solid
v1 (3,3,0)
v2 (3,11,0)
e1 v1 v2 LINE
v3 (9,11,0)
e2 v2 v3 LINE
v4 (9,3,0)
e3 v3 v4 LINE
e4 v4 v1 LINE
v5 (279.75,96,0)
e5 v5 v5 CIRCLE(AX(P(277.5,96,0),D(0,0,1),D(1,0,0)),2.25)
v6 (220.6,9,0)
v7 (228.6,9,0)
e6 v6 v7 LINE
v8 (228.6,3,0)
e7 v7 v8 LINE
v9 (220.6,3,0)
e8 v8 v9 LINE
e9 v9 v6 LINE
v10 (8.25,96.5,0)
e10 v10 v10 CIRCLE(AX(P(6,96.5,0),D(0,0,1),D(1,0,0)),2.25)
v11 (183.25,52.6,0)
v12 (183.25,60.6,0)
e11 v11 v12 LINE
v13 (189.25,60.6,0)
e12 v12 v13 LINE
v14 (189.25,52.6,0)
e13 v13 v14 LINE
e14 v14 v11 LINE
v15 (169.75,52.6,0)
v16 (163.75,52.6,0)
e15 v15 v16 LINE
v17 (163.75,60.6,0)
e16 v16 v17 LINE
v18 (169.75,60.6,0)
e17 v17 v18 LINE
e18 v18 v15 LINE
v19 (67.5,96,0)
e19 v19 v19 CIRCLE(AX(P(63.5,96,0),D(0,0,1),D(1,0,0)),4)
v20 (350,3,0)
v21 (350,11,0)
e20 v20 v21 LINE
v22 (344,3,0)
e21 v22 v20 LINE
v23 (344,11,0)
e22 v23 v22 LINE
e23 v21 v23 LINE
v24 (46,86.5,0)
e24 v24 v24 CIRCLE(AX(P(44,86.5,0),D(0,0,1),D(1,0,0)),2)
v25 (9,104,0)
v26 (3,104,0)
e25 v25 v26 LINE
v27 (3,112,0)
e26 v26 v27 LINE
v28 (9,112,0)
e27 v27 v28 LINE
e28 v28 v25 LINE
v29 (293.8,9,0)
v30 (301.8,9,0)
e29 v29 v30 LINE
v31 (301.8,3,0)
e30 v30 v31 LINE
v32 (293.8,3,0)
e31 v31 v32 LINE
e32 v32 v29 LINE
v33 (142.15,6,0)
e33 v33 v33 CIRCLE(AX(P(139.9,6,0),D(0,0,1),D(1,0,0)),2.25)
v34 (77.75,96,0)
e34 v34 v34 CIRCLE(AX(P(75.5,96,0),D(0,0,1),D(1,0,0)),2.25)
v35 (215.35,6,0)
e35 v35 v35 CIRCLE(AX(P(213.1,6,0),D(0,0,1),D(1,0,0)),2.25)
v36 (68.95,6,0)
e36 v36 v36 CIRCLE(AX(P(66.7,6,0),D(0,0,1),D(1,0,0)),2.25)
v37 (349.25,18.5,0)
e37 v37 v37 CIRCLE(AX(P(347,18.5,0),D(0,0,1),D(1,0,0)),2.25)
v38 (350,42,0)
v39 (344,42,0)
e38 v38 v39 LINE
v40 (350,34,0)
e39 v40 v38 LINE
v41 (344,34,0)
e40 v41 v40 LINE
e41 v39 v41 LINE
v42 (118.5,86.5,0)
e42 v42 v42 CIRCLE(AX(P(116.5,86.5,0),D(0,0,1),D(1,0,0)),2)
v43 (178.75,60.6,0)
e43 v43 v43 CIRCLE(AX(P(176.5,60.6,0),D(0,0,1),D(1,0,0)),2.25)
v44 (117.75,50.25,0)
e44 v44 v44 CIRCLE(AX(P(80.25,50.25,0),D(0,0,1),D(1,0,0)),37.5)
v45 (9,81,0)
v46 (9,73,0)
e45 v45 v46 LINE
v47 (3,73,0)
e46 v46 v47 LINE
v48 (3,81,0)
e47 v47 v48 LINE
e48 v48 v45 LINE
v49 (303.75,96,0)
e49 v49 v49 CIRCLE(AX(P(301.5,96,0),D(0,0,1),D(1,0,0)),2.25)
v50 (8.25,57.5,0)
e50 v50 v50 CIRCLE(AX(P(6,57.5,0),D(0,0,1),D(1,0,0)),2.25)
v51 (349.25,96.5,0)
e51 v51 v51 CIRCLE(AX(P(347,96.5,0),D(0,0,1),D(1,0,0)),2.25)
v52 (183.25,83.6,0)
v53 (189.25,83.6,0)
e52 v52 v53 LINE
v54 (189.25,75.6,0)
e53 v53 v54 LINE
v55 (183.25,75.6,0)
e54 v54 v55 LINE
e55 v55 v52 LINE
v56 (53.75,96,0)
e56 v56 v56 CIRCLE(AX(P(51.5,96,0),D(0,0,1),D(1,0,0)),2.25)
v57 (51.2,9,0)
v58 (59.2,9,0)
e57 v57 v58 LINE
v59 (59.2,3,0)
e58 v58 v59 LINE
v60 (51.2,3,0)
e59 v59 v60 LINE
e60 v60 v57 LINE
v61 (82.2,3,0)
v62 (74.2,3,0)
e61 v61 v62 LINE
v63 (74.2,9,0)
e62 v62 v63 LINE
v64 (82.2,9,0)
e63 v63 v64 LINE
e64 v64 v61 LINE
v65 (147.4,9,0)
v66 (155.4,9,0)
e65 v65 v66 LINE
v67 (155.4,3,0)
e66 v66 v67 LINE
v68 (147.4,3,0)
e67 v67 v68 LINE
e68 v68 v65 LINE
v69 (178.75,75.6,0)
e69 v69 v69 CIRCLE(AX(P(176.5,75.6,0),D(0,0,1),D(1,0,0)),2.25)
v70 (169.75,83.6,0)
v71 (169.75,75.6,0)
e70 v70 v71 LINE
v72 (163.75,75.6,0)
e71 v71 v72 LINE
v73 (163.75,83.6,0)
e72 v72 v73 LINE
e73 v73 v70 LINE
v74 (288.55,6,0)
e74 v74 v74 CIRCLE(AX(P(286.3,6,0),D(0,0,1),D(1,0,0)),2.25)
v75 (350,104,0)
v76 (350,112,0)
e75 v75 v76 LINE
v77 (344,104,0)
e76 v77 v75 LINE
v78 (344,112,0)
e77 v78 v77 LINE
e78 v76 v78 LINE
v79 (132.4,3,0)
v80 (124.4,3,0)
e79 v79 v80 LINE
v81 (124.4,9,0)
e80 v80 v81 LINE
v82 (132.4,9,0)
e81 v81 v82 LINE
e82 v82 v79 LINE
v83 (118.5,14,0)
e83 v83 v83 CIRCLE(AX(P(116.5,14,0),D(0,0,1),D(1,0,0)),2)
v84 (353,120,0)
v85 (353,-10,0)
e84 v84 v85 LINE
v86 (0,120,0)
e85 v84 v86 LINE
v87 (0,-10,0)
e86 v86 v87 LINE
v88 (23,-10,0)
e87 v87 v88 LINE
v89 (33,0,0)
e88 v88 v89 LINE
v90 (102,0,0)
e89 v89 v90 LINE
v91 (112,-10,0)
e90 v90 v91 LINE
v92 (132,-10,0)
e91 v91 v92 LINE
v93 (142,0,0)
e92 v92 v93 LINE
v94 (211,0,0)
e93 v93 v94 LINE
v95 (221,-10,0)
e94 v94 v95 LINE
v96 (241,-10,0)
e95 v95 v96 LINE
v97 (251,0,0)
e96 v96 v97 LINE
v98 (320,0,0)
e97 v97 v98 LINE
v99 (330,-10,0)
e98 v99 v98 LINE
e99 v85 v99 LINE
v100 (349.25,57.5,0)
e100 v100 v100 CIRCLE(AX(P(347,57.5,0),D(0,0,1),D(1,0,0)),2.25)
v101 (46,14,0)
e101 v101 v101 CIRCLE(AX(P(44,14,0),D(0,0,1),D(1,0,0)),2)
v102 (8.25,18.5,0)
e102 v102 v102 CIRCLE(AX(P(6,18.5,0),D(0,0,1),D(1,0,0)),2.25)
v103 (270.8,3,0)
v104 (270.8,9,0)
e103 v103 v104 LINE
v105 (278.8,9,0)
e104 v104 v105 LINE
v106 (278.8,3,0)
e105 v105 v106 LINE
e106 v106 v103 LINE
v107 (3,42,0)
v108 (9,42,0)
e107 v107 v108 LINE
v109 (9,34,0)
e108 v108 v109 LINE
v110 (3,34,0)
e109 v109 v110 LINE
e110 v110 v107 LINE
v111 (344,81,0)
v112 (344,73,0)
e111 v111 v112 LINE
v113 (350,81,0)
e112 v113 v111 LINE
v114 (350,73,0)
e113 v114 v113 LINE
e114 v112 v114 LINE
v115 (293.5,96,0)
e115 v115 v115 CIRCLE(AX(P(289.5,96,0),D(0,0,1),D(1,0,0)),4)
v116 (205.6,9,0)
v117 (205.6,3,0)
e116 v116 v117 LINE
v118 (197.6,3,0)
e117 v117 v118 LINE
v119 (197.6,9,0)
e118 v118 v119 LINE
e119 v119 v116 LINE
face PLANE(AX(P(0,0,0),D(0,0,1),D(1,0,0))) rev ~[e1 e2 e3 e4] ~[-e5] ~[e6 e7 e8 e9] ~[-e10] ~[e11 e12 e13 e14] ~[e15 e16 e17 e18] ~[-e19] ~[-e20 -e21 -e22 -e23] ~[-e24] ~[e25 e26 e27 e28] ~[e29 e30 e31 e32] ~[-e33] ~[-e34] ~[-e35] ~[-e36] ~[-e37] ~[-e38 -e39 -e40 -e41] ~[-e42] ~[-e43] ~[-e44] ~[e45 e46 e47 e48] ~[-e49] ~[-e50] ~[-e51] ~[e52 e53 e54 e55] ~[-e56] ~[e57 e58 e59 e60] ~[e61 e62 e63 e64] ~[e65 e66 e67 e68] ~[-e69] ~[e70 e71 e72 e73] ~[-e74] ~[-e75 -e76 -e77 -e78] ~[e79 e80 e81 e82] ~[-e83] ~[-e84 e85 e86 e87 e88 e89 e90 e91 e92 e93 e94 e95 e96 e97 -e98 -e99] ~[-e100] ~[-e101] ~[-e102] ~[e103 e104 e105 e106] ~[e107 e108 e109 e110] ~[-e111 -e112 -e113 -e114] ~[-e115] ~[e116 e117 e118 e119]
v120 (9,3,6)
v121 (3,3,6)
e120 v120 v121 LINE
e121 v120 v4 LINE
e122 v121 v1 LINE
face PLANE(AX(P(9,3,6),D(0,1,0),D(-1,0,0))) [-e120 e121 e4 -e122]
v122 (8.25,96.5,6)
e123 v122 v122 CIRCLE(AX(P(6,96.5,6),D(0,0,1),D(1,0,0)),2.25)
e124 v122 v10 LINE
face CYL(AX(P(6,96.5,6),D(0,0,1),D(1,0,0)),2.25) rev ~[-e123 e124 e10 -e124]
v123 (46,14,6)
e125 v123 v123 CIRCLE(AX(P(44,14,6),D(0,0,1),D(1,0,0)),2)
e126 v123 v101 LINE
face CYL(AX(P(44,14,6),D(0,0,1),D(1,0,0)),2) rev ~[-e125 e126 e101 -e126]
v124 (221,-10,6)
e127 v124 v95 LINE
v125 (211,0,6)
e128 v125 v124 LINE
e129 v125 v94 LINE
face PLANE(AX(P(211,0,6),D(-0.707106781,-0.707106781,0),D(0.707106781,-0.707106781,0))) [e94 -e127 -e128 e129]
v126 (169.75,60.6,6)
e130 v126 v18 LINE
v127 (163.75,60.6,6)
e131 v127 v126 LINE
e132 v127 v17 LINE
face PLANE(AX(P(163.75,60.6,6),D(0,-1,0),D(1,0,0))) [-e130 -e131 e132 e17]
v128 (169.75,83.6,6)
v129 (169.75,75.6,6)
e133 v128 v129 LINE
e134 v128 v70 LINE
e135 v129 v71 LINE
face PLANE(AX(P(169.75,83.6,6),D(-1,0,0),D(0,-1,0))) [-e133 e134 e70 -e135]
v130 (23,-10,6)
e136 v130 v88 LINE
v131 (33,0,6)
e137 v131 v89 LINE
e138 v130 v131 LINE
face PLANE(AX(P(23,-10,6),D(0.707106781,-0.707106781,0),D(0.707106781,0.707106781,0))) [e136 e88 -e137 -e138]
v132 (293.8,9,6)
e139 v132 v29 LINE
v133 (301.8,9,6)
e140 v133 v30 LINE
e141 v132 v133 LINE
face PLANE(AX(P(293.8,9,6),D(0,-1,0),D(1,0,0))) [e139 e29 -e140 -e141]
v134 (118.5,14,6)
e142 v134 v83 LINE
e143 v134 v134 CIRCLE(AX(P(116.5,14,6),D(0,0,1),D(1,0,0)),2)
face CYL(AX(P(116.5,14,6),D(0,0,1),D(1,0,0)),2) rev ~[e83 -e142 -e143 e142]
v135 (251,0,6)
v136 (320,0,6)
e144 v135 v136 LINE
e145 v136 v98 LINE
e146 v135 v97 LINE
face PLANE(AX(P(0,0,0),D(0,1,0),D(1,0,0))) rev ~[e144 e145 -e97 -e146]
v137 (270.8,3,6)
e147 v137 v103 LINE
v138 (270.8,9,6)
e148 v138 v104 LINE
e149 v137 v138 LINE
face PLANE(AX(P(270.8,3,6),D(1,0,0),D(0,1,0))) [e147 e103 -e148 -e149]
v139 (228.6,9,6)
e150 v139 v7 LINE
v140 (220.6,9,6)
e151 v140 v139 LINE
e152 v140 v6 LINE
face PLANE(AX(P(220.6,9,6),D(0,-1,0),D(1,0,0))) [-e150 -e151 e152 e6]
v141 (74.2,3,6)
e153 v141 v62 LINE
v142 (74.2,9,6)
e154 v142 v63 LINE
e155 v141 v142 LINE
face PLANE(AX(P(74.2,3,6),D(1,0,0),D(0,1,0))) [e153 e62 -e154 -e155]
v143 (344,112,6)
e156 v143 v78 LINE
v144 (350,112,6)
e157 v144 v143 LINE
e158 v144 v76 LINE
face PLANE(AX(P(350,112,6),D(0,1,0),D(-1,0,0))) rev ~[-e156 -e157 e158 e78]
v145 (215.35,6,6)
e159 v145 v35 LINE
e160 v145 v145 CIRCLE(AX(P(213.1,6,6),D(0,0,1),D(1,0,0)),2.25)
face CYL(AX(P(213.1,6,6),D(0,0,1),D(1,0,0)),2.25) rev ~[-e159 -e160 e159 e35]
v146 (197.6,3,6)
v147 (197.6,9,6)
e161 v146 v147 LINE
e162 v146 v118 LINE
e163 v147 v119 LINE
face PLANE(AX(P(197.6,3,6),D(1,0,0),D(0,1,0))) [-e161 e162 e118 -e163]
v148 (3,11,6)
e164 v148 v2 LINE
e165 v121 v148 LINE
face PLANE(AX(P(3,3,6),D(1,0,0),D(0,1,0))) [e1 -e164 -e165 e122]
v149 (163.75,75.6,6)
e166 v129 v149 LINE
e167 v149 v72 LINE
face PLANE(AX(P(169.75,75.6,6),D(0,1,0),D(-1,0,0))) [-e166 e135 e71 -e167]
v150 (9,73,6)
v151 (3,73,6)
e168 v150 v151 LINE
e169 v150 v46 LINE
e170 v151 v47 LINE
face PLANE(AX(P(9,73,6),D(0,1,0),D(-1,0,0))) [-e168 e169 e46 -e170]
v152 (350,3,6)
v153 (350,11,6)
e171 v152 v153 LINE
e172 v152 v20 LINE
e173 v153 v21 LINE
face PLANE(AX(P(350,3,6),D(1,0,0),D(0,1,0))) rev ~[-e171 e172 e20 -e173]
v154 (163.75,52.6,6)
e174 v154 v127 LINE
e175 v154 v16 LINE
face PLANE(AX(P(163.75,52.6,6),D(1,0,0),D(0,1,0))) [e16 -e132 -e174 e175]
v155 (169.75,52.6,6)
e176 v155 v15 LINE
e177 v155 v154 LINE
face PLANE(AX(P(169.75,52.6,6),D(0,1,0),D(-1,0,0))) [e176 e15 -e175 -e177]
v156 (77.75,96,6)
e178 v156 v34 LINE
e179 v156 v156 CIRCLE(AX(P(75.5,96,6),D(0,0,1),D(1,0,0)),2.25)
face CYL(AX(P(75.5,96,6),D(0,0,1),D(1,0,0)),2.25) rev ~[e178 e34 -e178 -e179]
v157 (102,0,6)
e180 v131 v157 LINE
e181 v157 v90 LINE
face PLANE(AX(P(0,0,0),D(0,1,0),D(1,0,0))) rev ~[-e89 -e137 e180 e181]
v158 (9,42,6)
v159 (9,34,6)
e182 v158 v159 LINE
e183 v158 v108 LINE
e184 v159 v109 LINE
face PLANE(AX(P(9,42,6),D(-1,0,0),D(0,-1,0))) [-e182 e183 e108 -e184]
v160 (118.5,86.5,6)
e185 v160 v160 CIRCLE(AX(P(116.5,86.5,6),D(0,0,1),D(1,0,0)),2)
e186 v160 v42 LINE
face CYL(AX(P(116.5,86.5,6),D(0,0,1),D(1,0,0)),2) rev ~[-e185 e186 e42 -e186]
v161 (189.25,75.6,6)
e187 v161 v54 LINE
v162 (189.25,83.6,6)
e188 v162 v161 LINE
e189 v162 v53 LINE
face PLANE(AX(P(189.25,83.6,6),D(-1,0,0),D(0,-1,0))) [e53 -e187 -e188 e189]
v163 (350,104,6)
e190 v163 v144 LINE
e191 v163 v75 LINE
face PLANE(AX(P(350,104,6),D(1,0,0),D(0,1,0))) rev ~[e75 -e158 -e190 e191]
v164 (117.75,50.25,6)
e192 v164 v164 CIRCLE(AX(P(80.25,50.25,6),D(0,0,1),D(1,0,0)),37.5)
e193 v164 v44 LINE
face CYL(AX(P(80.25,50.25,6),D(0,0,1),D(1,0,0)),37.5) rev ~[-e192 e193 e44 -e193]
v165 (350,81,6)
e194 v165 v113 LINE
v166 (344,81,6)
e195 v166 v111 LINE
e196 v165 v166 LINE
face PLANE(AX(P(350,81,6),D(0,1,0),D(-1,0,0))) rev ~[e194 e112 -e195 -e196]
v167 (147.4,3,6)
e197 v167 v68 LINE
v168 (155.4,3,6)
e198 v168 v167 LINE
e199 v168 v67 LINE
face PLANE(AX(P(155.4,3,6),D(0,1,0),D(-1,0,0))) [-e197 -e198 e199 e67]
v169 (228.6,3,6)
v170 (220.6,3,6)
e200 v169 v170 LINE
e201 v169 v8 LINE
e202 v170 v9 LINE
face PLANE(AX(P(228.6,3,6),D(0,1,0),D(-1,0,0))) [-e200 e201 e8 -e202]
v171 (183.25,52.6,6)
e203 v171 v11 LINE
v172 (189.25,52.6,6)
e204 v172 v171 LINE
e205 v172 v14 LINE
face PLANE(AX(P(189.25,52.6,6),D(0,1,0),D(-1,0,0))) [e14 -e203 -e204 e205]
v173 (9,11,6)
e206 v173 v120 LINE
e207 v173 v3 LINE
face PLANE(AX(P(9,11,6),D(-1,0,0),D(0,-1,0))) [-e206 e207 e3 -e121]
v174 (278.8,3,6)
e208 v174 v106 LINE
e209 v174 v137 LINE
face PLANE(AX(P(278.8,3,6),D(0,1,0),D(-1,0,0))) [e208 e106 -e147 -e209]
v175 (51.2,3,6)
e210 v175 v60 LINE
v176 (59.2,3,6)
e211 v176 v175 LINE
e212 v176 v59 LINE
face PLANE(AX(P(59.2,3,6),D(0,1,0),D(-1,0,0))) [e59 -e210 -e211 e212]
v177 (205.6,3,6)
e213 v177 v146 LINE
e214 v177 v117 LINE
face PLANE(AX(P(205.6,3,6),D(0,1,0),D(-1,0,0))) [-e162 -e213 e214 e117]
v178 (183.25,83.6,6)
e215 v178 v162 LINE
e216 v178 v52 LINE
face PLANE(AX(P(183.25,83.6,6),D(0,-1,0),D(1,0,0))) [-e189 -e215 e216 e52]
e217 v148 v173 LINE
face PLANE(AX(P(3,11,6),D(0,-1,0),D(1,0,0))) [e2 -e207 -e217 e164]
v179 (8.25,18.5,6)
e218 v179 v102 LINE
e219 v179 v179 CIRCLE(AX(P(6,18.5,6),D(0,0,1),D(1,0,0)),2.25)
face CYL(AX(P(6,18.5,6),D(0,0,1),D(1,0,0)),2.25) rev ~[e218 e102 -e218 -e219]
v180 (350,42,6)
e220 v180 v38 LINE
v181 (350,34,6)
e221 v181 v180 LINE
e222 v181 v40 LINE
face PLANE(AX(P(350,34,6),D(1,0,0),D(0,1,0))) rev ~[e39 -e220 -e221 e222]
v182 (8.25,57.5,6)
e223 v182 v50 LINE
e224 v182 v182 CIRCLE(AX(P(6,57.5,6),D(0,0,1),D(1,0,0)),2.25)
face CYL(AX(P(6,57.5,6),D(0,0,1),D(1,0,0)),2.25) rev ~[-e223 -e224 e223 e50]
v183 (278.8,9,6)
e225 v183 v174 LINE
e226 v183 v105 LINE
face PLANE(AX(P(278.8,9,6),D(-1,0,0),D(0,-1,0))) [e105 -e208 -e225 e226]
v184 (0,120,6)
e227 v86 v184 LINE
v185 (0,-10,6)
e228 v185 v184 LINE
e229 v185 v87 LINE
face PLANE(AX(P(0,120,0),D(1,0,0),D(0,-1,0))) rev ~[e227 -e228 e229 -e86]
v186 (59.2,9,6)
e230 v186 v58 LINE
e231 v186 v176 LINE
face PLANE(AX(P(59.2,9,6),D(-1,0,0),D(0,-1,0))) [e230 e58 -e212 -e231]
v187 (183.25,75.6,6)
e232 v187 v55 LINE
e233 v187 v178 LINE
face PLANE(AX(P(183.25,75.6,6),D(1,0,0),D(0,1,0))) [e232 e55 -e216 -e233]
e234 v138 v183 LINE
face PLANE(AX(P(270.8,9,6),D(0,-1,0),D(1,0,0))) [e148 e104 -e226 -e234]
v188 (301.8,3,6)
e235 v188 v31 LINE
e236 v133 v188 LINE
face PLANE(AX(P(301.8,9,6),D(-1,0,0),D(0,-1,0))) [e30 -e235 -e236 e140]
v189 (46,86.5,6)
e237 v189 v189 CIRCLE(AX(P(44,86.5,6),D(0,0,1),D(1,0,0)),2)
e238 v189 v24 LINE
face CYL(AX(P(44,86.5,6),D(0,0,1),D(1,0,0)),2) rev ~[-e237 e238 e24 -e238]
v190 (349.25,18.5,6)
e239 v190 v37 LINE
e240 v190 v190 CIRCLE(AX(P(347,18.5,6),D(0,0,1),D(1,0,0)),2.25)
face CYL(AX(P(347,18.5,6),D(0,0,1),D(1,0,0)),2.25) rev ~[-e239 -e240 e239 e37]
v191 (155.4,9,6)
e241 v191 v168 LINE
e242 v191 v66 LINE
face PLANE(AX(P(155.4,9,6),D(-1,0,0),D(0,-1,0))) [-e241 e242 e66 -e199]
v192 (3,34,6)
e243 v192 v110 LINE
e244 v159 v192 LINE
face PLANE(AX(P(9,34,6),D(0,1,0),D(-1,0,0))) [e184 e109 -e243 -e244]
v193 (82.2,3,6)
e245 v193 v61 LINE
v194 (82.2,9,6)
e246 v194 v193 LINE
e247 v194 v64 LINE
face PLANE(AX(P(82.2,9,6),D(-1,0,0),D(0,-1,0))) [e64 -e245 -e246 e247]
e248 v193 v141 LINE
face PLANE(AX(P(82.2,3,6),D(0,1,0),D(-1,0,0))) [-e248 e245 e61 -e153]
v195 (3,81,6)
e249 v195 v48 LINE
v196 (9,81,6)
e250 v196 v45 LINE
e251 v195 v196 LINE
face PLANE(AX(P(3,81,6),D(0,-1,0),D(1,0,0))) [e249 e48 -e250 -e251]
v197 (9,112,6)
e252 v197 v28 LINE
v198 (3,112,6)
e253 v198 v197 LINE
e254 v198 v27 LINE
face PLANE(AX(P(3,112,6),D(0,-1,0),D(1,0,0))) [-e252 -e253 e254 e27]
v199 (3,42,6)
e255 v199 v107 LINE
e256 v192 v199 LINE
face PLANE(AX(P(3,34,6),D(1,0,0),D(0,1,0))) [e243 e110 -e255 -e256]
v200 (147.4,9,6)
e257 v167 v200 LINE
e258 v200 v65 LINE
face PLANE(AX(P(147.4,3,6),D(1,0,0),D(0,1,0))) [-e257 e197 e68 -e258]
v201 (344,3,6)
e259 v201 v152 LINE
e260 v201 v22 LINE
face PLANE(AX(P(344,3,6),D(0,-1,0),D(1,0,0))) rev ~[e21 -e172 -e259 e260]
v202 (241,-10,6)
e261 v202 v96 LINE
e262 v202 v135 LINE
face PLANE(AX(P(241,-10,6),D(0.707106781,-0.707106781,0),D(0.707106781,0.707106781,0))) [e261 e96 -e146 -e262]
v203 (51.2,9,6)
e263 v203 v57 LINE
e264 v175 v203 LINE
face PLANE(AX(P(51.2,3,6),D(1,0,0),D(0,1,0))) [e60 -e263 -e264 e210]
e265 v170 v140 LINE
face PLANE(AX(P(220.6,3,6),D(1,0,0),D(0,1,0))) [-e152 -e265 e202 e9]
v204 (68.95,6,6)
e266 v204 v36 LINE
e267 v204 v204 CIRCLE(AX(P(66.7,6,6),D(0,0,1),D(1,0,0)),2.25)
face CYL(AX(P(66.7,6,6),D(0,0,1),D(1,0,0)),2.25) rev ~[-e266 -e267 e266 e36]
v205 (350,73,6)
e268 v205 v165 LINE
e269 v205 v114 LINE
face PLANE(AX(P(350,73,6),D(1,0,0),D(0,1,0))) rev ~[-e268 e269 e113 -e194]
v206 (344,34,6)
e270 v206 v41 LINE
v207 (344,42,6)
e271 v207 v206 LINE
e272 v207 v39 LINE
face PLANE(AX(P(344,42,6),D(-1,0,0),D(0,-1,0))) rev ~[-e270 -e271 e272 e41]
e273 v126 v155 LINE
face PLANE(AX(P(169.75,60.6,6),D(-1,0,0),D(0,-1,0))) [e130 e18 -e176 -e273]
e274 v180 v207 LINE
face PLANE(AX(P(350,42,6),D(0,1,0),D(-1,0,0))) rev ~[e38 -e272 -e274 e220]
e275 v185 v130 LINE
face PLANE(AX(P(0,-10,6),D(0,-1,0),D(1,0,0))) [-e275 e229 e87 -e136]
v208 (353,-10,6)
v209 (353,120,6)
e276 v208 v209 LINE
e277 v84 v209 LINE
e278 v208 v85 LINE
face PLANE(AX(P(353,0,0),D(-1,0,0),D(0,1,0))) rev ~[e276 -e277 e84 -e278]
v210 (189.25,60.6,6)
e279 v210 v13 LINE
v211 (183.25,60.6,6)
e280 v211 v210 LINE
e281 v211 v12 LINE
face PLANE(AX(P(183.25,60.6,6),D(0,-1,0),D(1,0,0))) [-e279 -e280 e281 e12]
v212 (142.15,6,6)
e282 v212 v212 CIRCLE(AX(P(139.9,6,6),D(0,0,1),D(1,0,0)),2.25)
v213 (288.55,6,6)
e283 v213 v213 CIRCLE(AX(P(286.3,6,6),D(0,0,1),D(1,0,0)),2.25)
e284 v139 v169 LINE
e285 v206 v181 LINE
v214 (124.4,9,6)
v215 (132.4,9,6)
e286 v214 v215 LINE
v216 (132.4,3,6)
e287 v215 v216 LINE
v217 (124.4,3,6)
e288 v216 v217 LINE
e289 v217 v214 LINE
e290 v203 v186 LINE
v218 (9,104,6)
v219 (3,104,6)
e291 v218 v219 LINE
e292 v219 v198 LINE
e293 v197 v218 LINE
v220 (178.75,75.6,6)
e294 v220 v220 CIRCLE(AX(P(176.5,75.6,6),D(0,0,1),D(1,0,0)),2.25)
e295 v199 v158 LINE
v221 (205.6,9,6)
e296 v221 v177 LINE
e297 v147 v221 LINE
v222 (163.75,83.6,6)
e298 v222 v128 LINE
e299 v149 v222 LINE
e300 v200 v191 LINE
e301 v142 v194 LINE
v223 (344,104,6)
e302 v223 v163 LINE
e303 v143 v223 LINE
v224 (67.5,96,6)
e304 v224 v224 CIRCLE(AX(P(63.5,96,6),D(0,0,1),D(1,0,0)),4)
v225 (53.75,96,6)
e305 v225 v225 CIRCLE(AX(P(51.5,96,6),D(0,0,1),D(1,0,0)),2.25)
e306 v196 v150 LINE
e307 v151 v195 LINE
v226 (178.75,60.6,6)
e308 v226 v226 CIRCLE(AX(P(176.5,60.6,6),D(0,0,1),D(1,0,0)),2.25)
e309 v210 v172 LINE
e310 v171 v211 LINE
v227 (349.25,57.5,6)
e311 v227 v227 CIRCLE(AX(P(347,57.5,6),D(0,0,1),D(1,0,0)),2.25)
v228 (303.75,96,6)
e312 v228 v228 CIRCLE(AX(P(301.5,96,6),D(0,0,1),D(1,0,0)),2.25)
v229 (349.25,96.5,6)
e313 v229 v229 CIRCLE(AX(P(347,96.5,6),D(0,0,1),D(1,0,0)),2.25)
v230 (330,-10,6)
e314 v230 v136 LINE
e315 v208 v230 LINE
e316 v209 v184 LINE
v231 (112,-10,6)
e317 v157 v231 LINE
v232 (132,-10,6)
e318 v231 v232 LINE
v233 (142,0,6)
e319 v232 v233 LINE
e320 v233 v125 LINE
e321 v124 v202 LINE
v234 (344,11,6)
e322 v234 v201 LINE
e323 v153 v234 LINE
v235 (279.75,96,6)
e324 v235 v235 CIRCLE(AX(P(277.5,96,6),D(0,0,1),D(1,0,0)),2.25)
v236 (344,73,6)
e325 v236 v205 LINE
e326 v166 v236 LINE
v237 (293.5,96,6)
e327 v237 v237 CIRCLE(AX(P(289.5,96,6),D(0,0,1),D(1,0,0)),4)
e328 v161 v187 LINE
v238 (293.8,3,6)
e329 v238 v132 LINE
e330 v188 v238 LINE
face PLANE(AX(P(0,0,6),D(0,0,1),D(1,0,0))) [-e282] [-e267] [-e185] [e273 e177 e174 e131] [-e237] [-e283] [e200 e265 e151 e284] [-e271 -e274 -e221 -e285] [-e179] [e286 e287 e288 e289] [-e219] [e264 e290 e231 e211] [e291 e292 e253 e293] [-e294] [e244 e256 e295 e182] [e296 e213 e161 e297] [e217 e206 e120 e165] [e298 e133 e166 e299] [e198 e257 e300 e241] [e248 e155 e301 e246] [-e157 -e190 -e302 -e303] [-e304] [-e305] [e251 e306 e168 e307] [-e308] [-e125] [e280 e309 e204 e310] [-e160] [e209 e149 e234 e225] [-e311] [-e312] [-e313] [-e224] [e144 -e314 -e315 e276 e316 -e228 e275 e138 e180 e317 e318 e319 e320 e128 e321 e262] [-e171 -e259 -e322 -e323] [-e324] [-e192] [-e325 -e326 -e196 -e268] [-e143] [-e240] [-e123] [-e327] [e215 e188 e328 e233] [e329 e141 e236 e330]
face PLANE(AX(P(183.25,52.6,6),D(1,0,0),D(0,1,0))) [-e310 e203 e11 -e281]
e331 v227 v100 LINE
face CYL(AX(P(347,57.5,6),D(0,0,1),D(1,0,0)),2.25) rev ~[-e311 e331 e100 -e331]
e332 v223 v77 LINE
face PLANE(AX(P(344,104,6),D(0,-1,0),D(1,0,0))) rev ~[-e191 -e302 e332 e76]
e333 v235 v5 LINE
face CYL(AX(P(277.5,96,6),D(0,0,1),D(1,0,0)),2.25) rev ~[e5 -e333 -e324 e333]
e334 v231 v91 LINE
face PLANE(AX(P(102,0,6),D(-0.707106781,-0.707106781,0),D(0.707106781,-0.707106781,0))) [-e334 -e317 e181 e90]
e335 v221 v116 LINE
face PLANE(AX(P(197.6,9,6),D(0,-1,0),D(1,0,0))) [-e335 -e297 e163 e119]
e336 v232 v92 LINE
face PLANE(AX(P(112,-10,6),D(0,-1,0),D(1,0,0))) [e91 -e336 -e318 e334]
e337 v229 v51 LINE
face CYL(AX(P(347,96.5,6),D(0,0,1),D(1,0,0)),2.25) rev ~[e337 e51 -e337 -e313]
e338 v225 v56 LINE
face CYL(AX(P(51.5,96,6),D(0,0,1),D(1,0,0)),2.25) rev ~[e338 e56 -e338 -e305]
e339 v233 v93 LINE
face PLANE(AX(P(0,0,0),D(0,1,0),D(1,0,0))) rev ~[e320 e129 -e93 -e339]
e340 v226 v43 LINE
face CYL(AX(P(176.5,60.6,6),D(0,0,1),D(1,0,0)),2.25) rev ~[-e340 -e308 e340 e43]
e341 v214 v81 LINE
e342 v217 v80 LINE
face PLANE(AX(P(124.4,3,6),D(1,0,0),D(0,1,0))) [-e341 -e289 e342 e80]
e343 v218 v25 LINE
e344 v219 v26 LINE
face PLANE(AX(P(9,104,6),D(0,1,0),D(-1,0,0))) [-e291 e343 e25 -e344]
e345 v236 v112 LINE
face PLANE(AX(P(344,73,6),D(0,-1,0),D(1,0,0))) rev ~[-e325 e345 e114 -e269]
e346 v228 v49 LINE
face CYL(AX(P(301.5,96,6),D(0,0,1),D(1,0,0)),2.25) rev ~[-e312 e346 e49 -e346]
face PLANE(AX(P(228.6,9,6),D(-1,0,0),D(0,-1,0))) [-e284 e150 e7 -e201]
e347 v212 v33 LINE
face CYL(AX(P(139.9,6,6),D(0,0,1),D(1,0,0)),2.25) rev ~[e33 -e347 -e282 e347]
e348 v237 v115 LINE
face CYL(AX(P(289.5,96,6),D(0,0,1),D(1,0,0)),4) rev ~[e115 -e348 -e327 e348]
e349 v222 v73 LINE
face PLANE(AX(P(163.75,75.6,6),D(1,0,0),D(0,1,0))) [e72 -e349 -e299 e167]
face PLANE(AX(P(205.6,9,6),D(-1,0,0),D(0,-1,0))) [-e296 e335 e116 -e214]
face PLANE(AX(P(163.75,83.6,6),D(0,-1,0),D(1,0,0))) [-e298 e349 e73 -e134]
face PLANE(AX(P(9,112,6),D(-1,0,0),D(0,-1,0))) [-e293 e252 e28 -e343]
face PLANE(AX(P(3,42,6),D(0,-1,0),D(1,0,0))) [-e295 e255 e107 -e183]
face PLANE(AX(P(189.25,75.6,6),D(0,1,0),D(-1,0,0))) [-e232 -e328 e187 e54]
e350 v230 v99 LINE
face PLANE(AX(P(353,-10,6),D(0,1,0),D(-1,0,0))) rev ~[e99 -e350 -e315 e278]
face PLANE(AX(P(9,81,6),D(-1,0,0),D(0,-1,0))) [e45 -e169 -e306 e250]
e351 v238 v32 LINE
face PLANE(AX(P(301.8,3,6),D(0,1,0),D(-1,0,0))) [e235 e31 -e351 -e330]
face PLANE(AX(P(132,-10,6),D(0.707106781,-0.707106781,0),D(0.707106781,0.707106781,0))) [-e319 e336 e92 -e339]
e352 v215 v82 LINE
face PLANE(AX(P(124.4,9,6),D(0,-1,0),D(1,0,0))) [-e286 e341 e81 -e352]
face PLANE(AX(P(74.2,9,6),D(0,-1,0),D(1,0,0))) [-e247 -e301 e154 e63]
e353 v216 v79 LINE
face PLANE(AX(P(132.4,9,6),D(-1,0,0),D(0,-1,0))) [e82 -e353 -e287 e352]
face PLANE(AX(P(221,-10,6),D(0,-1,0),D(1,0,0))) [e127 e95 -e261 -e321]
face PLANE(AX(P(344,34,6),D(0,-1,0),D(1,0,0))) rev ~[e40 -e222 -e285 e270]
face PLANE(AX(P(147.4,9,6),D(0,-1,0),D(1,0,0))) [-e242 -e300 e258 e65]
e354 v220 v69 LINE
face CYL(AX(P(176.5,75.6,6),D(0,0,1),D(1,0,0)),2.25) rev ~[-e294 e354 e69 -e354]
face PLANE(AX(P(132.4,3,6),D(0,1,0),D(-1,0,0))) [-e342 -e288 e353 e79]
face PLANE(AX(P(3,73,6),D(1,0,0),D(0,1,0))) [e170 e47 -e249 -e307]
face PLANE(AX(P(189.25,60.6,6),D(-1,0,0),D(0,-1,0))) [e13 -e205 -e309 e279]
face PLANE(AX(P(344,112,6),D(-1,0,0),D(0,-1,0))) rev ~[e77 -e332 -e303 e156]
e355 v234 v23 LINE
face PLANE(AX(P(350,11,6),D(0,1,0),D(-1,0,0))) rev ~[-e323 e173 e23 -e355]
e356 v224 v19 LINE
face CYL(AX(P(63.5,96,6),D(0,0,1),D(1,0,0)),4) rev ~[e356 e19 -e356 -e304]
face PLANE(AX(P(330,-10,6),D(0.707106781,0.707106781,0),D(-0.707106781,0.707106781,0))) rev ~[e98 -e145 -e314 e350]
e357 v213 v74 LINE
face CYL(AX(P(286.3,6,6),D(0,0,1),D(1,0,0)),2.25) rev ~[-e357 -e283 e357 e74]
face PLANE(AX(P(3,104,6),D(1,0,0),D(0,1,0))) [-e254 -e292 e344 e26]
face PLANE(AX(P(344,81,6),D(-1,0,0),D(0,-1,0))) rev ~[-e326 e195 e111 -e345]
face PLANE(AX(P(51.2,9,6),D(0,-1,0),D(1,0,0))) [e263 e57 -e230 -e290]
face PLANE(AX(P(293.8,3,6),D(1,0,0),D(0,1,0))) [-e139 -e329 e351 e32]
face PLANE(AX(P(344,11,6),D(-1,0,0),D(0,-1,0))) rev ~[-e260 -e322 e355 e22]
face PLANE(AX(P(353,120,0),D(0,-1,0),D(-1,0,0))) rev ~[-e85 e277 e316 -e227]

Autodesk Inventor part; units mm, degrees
ref_plane "YZ Plane" through (0, 0, 0) normal (1, 0, 0) x (0, 1, 0)
ref_plane "XZ Plane" through (0, 0, 0) normal (0, 1, 0) x (-1, 0, 0)
ref_plane "XY Plane" through (0, 0, 0) normal (0, 0, 1) x (1, 0, 0)
sketch "Sketch1" plane through (0, 0, 0) normal (0, 0, 1) x (1, 0, 0)
  line L0 (0, 0) -> (353, 0)
  line L1 (353, 0) -> (353, 120)
  line L2 (353, 120) -> (0, 120)
  line L3 (0, 120) -> (0, 0)
  dimension "d0" = 120
  dimension "d1" = 353
extrude "Extrusion1" add sketch "Sketch1" along normal blind 6
sketch "Sketch3" plane through (0, 0, 6) normal (0, 0, 1) x (1, 0, 0)
  line L0 (0, 0) -> (353, 0) projected
  line L1 (353, 120) -> (0, 120) projected
  line L2 (0, 120) -> (0, 0) projected
  circle A0 centre (63.5, 96) radius 4
  circle A1 centre (289.5, 96) radius 4
  line L3 (63.5, 96) -> (289.5, 96) construction
  point P0 (176.5, 96)
  point P1 (176.5, 120)
  dimension "d9" = 8
  dimension "d10" = 96
  dimension "d11" = 226
extrude "Extrusion3" cut sketch "Sketch3" against normal through all
sketch "Sketch4" plane through (0, 0, 6) normal (0, 0, 1) x (1, 0, 0)
  line L0 (0, 0) -> (353, 0) projected
  line L1 (353, 120) -> (0, 120) projected
  line L2 (0, 120) -> (0, 0) projected
  circle A0 centre (6, 18.5) radius 2.25
  circle A1 centre (6, 57.5) radius 2.25
  circle A2 centre (6, 96.5) radius 2.25
  line L3 (176.5, 120) -> (176.5, 0) construction
  line L4 (3, 112) -> (9, 112)
  line L5 (9, 112) -> (9, 104)
  line L6 (9, 104) -> (3, 104)
  line L7 (3, 104) -> (3, 112)
  line L8 (3, 81) -> (9, 81)
  line L9 (9, 81) -> (9, 73)
  line L10 (9, 73) -> (3, 73)
  line L11 (3, 73) -> (3, 81)
  line L12 (3, 42) -> (9, 42)
  line L13 (9, 42) -> (9, 34)
  line L14 (9, 34) -> (3, 34)
  line L15 (3, 34) -> (3, 42)
  line L16 (3, 11) -> (9, 11)
  line L17 (9, 11) -> (9, 3)
  line L18 (9, 3) -> (3, 3)
  line L19 (3, 3) -> (3, 11)
  line L20 (6, 18.5) -> (6, 57.5) construction
  line L21 (6, 57.5) -> (6, 96.5) construction
  circle A3 centre (347, 18.5) radius 2.25
  circle A4 centre (347, 57.5) radius 2.25
  circle A5 centre (347, 96.5) radius 2.25
  line L22 (350, 112) -> (344, 112)
  line L23 (344, 112) -> (344, 104)
  line L24 (344, 104) -> (350, 104)
  line L25 (350, 104) -> (350, 112)
  line L26 (350, 81) -> (344, 81)
  line L27 (344, 81) -> (344, 73)
  line L28 (344, 73) -> (350, 73)
  line L29 (350, 73) -> (350, 81)
  line L30 (350, 42) -> (344, 42)
  line L31 (344, 42) -> (344, 34)
  line L32 (344, 34) -> (350, 34)
  line L33 (350, 34) -> (350, 42)
  line L34 (350, 11) -> (344, 11)
  line L35 (344, 11) -> (344, 3)
  line L36 (344, 3) -> (350, 3)
  line L37 (350, 3) -> (350, 11)
  line L38 (347, 18.5) -> (347, 57.5) construction
  line L39 (347, 57.5) -> (347, 96.5) construction
  point P0 (6, 104)
  point P1 (3, 38)
  point P2 (6, 38)
  point P3 (3, 77)
  point P4 (6, 77)
  point P5 (347, 104)
  point P6 (350, 38)
  point P7 (347, 38)
  point P8 (350, 77)
  point P9 (347, 77)
  dimension "d14" = 18.5
  dimension "d15" = 39
  dimension "d16" = 39
  dimension "d17" = 4.5
  dimension "d18" = 6
  dimension "d19" = 8
  dimension "d20" = 8
  dimension "d21" = 8
  dimension "d22" = 8
  dimension "d23" = 3
  dimension "d27" = 23
  dimension "d28" = 3
extrude "Extrusion4" cut sketch "Sketch4" against normal through all
sketch "Sketch5" plane through (0, 0, 6) normal (0, 0, 1) x (1, 0, 0)
  line L0 (0, 0) -> (353, 0) projected
  line L1 (51.2, 9) -> (59.2, 9)
  line L2 (59.2, 9) -> (59.2, 3)
  line L3 (59.2, 3) -> (51.2, 3)
  line L4 (51.2, 3) -> (51.2, 9)
  line L5 (74.2, 9) -> (82.2, 9)
  line L6 (82.2, 9) -> (82.2, 3)
  line L7 (82.2, 3) -> (74.2, 3)
  line L8 (74.2, 3) -> (74.2, 9)
  line L9 (59.2, 9) -> (74.2, 3) construction
  line L10 (74.2, 9) -> (59.2, 3) construction
  circle A0 centre (66.7, 6) radius 2.25
  line L11 (124.4, 9) -> (132.4, 9)
  line L12 (132.4, 9) -> (132.4, 3)
  line L13 (132.4, 3) -> (124.4, 3)
  line L14 (124.4, 3) -> (124.4, 9)
  line L15 (147.4, 9) -> (155.4, 9)
  line L16 (155.4, 9) -> (155.4, 3)
  line L17 (155.4, 3) -> (147.4, 3)
  line L18 (147.4, 3) -> (147.4, 9)
  line L19 (132.4, 9) -> (147.4, 3) construction
  line L20 (147.4, 9) -> (132.4, 3) construction
  circle A1 centre (139.9, 6) radius 2.25
  line L21 (197.6, 9) -> (205.6, 9)
  line L22 (205.6, 9) -> (205.6, 3)
  line L23 (205.6, 3) -> (197.6, 3)
  line L24 (197.6, 3) -> (197.6, 9)
  line L25 (220.6, 9) -> (228.6, 9)
  line L26 (228.6, 9) -> (228.6, 3)
  line L27 (228.6, 3) -> (220.6, 3)
  line L28 (220.6, 3) -> (220.6, 9)
  line L29 (205.6, 9) -> (220.6, 3) construction
  line L30 (220.6, 9) -> (205.6, 3) construction
  circle A2 centre (213.1, 6) radius 2.25
  line L31 (270.8, 9) -> (278.8, 9)
  line L32 (278.8, 9) -> (278.8, 3)
  line L33 (278.8, 3) -> (270.8, 3)
  line L34 (270.8, 3) -> (270.8, 9)
  line L35 (293.8, 9) -> (301.8, 9)
  line L36 (301.8, 9) -> (301.8, 3)
  line L37 (301.8, 3) -> (293.8, 3)
  line L38 (293.8, 3) -> (293.8, 9)
  line L39 (278.8, 9) -> (293.8, 3) construction
  line L40 (293.8, 9) -> (278.8, 3) construction
  circle A3 centre (286.3, 6) radius 2.25
  line L41 (51.2, 6) -> (9, 6) construction
  line L42 (82.2, 6) -> (124.4, 6) construction
  line L43 (155.4, 6) -> (197.6, 6) construction
  line L44 (228.6, 6) -> (270.8, 6) construction
  line L45 (301.8, 6) -> (344, 6) construction
  point P0 (9, 3)
  point P1 (344, 3)
  point P2 (286.3, 6)
  dimension "d69" = 4.5
  dimension "d31" = 8
  dimension "d32" = 6
  dimension "d33" = 8
  dimension "d34" = 15
  dimension "d35" = 4.5
  dimension "d36" = 8
  dimension "d37" = 6
  dimension "d38" = 8
  dimension "d39" = 15
  dimension "d40" = 4.5
  dimension "d41" = 8
  dimension "d42" = 6
  dimension "d43" = 8
  dimension "d44" = 15
  dimension "d45" = 4.5
  dimension "d46" = 8
  dimension "d47" = 6
  dimension "d48" = 8
  dimension "d49" = 15
  dimension "d50" = 4.5
  dimension "d51" = 3
extrude "Extrusion5" cut sketch "Sketch5" against normal through all
sketch "Sketch6" plane through (0, 0, 6) normal (0, 0, 1) x (1, 0, 0)
  line L0 (0, 0) -> (353, 0) projected
  line L1 (0, 120) -> (0, 0) projected
  line L2 (0, 0) -> (0, -10)
  line L3 (0, -10) -> (23, -10)
  line L4 (23, -10) -> (33, 0)
  line L5 (102, 0) -> (112, -10)
  line L6 (112, -10) -> (132, -10)
  line L7 (132, -10) -> (142, 0)
  line L8 (211, 0) -> (221, -10)
  line L9 (221, -10) -> (241, -10)
  line L10 (241, -10) -> (251, 0)
  line L11 (353, 0) -> (353, -10)
  line L12 (353, -10) -> (330, -10)
  line L13 (330, -10) -> (320, 0)
  line L14 (23, -10) -> (112, -10) construction
  line L15 (132, -10) -> (221, -10) construction
  line L16 (241, -10) -> (330, -10) construction
  dimension "d54" = 20
  dimension "d55" = 23
  dimension "d56" = 45
  dimension "d57" = 10
extrude "Extrusion6" add sketch "Sketch6" against normal blind 6
sketch "Sketch7" plane through (0, 0, 6) normal (0, 0, 1) x (1, 0, 0)
  line L0 (353, 120) -> (0, 120) projected
  line L1 (173, 81.1) -> (180, 81.1) construction
  line L2 (180, 81.1) -> (180, 55.1) construction
  line L3 (180, 55.1) -> (173, 55.1) construction
  line L4 (173, 55.1) -> (173, 81.1) construction
  line L5 (183.25, 83.6) -> (189.25, 83.6)
  line L6 (189.25, 83.6) -> (189.25, 75.6)
  line L7 (189.25, 75.6) -> (183.25, 75.6)
  line L8 (183.25, 75.6) -> (183.25, 83.6)
  line L9 (183.25, 60.6) -> (189.25, 60.6)
  line L10 (189.25, 60.6) -> (189.25, 52.6)
  line L11 (189.25, 52.6) -> (183.25, 52.6)
  line L12 (183.25, 52.6) -> (183.25, 60.6)
  line L13 (163.75, 83.6) -> (169.75, 83.6)
  line L14 (169.75, 83.6) -> (169.75, 75.6)
  line L15 (169.75, 75.6) -> (163.75, 75.6)
  line L16 (163.75, 75.6) -> (163.75, 83.6)
  line L17 (163.75, 60.6) -> (169.75, 60.6)
  line L18 (169.75, 60.6) -> (169.75, 52.6)
  line L19 (169.75, 52.6) -> (163.75, 52.6)
  line L20 (163.75, 52.6) -> (163.75, 60.6)
  line L21 (169.75, 75.6) -> (183.25, 60.6) construction
  line L22 (183.25, 75.6) -> (169.75, 60.6) construction
  circle A0 centre (176.5, 75.6) radius 2.25
  circle A1 centre (176.5, 60.6) radius 2.25
  line L23 (176.5, 75.6) -> (176.5, 60.6) construction
  point P0 (147.4, 9)
  point P1 (0, 0)
  point P2 (176.5, 81.1)
  point P3 (176.5, 120)
  point P4 (176.5, 68.1)
  point P5 (173, 68.1)
  point P6 (176.5, 68.1)
  dimension "d60" = 7
  dimension "d61" = 26
  dimension "d62" = 72.1
  dimension "d63" = 8
  dimension "d64" = 6
  dimension "d65" = 6
  dimension "d66" = 8
  dimension "d67" = 13.5
  dimension "d68" = 15
  dimension "d69" = 4.5
  dimension "d70" = 15
extrude "Extrusion7" cut sketch "Sketch7" against normal through all
sketch "Sketch8" plane through (0, 0, 6) normal (0, 0, 1) x (1, 0, 0)
  line L0 (163.75, 83.6) -> (169.75, 83.6) projected
  circle A0 centre (63.5, 96) radius 4 projected
  circle A1 centre (289.5, 96) radius 4 projected
  line L1 (353, 120) -> (0, 120) projected
  circle A2 centre (51.5, 96) radius 2.25
  circle A3 centre (75.5, 96) radius 2.25
  circle A4 centre (277.5, 96) radius 2.25
  circle A5 centre (301.5, 96) radius 2.25
  line L2 (51.5, 96) -> (75.5, 96) construction
  line L3 (277.5, 96) -> (301.5, 96) construction
  point P0 (0, 0)
  dimension "d73" = 24
  dimension "d74" = 4.5
extrude "Extrusion8" cut sketch "Sketch8" against normal through all contours A2 | A3 | A4 | A5
sketch "Sketch9" plane through (0, 0, 6) normal (0, 0, 1) x (1, 0, 0)
  line L0 (74.2, 9) -> (82.2, 9) projected
  line L1 (9, 42) -> (9, 34) projected
  line L2 (44, 86.5) -> (116.5, 86.5) construction
  line L3 (116.5, 86.5) -> (116.5, 14) construction
  line L4 (116.5, 14) -> (44, 14) construction
  line L5 (44, 14) -> (44, 86.5) construction
  circle A0 centre (44, 86.5) radius 2
  circle A1 centre (116.5, 86.5) radius 2
  circle A2 centre (116.5, 14) radius 2
  circle A3 centre (44, 14) radius 2
  line L6 (40.25, 90.25) -> (120.25, 90.25) construction
  line L7 (120.25, 90.25) -> (120.25, 10.25) construction
  line L8 (120.25, 10.25) -> (40.25, 10.25) construction
  line L9 (40.25, 10.25) -> (40.25, 90.25) construction
  point P0 (0, 0)
  point P1 (80.25, 10.25)
  point P2 (80.25, 14)
  point P3 (40.25, 50.25)
  point P4 (44, 50.25)
  dimension "d77" = 4
  dimension "d78" = 72.5
  dimension "d79" = 5
  dimension "d80" = 80
  dimension "d81" = 35
extrude "Extrusion9" cut sketch "Sketch9" against normal through all
sketch "Sketch10" plane through (0, 0, 6) normal (0, 0, 1) x (1, 0, 0)
  circle A0 centre (116.5, 14) radius 2 projected
  circle A1 centre (44, 86.5) radius 2 projected
  line L0 (44, 86.5) -> (116.5, 86.5) construction
  line L1 (116.5, 86.5) -> (116.5, 14) construction
  line L2 (116.5, 14) -> (44, 14) construction
  line L3 (44, 14) -> (44, 86.5) construction
  circle A2 centre (80.25, 50.25) radius 37.5
  point P0 (0, 0)
  point P1 (80.25, 86.5)
  point P2 (44, 50.25)
  dimension "d84" = 75
extrude "Extrusion10" cut sketch "Sketch10" against normal through all contours A2
properties part number "back"
